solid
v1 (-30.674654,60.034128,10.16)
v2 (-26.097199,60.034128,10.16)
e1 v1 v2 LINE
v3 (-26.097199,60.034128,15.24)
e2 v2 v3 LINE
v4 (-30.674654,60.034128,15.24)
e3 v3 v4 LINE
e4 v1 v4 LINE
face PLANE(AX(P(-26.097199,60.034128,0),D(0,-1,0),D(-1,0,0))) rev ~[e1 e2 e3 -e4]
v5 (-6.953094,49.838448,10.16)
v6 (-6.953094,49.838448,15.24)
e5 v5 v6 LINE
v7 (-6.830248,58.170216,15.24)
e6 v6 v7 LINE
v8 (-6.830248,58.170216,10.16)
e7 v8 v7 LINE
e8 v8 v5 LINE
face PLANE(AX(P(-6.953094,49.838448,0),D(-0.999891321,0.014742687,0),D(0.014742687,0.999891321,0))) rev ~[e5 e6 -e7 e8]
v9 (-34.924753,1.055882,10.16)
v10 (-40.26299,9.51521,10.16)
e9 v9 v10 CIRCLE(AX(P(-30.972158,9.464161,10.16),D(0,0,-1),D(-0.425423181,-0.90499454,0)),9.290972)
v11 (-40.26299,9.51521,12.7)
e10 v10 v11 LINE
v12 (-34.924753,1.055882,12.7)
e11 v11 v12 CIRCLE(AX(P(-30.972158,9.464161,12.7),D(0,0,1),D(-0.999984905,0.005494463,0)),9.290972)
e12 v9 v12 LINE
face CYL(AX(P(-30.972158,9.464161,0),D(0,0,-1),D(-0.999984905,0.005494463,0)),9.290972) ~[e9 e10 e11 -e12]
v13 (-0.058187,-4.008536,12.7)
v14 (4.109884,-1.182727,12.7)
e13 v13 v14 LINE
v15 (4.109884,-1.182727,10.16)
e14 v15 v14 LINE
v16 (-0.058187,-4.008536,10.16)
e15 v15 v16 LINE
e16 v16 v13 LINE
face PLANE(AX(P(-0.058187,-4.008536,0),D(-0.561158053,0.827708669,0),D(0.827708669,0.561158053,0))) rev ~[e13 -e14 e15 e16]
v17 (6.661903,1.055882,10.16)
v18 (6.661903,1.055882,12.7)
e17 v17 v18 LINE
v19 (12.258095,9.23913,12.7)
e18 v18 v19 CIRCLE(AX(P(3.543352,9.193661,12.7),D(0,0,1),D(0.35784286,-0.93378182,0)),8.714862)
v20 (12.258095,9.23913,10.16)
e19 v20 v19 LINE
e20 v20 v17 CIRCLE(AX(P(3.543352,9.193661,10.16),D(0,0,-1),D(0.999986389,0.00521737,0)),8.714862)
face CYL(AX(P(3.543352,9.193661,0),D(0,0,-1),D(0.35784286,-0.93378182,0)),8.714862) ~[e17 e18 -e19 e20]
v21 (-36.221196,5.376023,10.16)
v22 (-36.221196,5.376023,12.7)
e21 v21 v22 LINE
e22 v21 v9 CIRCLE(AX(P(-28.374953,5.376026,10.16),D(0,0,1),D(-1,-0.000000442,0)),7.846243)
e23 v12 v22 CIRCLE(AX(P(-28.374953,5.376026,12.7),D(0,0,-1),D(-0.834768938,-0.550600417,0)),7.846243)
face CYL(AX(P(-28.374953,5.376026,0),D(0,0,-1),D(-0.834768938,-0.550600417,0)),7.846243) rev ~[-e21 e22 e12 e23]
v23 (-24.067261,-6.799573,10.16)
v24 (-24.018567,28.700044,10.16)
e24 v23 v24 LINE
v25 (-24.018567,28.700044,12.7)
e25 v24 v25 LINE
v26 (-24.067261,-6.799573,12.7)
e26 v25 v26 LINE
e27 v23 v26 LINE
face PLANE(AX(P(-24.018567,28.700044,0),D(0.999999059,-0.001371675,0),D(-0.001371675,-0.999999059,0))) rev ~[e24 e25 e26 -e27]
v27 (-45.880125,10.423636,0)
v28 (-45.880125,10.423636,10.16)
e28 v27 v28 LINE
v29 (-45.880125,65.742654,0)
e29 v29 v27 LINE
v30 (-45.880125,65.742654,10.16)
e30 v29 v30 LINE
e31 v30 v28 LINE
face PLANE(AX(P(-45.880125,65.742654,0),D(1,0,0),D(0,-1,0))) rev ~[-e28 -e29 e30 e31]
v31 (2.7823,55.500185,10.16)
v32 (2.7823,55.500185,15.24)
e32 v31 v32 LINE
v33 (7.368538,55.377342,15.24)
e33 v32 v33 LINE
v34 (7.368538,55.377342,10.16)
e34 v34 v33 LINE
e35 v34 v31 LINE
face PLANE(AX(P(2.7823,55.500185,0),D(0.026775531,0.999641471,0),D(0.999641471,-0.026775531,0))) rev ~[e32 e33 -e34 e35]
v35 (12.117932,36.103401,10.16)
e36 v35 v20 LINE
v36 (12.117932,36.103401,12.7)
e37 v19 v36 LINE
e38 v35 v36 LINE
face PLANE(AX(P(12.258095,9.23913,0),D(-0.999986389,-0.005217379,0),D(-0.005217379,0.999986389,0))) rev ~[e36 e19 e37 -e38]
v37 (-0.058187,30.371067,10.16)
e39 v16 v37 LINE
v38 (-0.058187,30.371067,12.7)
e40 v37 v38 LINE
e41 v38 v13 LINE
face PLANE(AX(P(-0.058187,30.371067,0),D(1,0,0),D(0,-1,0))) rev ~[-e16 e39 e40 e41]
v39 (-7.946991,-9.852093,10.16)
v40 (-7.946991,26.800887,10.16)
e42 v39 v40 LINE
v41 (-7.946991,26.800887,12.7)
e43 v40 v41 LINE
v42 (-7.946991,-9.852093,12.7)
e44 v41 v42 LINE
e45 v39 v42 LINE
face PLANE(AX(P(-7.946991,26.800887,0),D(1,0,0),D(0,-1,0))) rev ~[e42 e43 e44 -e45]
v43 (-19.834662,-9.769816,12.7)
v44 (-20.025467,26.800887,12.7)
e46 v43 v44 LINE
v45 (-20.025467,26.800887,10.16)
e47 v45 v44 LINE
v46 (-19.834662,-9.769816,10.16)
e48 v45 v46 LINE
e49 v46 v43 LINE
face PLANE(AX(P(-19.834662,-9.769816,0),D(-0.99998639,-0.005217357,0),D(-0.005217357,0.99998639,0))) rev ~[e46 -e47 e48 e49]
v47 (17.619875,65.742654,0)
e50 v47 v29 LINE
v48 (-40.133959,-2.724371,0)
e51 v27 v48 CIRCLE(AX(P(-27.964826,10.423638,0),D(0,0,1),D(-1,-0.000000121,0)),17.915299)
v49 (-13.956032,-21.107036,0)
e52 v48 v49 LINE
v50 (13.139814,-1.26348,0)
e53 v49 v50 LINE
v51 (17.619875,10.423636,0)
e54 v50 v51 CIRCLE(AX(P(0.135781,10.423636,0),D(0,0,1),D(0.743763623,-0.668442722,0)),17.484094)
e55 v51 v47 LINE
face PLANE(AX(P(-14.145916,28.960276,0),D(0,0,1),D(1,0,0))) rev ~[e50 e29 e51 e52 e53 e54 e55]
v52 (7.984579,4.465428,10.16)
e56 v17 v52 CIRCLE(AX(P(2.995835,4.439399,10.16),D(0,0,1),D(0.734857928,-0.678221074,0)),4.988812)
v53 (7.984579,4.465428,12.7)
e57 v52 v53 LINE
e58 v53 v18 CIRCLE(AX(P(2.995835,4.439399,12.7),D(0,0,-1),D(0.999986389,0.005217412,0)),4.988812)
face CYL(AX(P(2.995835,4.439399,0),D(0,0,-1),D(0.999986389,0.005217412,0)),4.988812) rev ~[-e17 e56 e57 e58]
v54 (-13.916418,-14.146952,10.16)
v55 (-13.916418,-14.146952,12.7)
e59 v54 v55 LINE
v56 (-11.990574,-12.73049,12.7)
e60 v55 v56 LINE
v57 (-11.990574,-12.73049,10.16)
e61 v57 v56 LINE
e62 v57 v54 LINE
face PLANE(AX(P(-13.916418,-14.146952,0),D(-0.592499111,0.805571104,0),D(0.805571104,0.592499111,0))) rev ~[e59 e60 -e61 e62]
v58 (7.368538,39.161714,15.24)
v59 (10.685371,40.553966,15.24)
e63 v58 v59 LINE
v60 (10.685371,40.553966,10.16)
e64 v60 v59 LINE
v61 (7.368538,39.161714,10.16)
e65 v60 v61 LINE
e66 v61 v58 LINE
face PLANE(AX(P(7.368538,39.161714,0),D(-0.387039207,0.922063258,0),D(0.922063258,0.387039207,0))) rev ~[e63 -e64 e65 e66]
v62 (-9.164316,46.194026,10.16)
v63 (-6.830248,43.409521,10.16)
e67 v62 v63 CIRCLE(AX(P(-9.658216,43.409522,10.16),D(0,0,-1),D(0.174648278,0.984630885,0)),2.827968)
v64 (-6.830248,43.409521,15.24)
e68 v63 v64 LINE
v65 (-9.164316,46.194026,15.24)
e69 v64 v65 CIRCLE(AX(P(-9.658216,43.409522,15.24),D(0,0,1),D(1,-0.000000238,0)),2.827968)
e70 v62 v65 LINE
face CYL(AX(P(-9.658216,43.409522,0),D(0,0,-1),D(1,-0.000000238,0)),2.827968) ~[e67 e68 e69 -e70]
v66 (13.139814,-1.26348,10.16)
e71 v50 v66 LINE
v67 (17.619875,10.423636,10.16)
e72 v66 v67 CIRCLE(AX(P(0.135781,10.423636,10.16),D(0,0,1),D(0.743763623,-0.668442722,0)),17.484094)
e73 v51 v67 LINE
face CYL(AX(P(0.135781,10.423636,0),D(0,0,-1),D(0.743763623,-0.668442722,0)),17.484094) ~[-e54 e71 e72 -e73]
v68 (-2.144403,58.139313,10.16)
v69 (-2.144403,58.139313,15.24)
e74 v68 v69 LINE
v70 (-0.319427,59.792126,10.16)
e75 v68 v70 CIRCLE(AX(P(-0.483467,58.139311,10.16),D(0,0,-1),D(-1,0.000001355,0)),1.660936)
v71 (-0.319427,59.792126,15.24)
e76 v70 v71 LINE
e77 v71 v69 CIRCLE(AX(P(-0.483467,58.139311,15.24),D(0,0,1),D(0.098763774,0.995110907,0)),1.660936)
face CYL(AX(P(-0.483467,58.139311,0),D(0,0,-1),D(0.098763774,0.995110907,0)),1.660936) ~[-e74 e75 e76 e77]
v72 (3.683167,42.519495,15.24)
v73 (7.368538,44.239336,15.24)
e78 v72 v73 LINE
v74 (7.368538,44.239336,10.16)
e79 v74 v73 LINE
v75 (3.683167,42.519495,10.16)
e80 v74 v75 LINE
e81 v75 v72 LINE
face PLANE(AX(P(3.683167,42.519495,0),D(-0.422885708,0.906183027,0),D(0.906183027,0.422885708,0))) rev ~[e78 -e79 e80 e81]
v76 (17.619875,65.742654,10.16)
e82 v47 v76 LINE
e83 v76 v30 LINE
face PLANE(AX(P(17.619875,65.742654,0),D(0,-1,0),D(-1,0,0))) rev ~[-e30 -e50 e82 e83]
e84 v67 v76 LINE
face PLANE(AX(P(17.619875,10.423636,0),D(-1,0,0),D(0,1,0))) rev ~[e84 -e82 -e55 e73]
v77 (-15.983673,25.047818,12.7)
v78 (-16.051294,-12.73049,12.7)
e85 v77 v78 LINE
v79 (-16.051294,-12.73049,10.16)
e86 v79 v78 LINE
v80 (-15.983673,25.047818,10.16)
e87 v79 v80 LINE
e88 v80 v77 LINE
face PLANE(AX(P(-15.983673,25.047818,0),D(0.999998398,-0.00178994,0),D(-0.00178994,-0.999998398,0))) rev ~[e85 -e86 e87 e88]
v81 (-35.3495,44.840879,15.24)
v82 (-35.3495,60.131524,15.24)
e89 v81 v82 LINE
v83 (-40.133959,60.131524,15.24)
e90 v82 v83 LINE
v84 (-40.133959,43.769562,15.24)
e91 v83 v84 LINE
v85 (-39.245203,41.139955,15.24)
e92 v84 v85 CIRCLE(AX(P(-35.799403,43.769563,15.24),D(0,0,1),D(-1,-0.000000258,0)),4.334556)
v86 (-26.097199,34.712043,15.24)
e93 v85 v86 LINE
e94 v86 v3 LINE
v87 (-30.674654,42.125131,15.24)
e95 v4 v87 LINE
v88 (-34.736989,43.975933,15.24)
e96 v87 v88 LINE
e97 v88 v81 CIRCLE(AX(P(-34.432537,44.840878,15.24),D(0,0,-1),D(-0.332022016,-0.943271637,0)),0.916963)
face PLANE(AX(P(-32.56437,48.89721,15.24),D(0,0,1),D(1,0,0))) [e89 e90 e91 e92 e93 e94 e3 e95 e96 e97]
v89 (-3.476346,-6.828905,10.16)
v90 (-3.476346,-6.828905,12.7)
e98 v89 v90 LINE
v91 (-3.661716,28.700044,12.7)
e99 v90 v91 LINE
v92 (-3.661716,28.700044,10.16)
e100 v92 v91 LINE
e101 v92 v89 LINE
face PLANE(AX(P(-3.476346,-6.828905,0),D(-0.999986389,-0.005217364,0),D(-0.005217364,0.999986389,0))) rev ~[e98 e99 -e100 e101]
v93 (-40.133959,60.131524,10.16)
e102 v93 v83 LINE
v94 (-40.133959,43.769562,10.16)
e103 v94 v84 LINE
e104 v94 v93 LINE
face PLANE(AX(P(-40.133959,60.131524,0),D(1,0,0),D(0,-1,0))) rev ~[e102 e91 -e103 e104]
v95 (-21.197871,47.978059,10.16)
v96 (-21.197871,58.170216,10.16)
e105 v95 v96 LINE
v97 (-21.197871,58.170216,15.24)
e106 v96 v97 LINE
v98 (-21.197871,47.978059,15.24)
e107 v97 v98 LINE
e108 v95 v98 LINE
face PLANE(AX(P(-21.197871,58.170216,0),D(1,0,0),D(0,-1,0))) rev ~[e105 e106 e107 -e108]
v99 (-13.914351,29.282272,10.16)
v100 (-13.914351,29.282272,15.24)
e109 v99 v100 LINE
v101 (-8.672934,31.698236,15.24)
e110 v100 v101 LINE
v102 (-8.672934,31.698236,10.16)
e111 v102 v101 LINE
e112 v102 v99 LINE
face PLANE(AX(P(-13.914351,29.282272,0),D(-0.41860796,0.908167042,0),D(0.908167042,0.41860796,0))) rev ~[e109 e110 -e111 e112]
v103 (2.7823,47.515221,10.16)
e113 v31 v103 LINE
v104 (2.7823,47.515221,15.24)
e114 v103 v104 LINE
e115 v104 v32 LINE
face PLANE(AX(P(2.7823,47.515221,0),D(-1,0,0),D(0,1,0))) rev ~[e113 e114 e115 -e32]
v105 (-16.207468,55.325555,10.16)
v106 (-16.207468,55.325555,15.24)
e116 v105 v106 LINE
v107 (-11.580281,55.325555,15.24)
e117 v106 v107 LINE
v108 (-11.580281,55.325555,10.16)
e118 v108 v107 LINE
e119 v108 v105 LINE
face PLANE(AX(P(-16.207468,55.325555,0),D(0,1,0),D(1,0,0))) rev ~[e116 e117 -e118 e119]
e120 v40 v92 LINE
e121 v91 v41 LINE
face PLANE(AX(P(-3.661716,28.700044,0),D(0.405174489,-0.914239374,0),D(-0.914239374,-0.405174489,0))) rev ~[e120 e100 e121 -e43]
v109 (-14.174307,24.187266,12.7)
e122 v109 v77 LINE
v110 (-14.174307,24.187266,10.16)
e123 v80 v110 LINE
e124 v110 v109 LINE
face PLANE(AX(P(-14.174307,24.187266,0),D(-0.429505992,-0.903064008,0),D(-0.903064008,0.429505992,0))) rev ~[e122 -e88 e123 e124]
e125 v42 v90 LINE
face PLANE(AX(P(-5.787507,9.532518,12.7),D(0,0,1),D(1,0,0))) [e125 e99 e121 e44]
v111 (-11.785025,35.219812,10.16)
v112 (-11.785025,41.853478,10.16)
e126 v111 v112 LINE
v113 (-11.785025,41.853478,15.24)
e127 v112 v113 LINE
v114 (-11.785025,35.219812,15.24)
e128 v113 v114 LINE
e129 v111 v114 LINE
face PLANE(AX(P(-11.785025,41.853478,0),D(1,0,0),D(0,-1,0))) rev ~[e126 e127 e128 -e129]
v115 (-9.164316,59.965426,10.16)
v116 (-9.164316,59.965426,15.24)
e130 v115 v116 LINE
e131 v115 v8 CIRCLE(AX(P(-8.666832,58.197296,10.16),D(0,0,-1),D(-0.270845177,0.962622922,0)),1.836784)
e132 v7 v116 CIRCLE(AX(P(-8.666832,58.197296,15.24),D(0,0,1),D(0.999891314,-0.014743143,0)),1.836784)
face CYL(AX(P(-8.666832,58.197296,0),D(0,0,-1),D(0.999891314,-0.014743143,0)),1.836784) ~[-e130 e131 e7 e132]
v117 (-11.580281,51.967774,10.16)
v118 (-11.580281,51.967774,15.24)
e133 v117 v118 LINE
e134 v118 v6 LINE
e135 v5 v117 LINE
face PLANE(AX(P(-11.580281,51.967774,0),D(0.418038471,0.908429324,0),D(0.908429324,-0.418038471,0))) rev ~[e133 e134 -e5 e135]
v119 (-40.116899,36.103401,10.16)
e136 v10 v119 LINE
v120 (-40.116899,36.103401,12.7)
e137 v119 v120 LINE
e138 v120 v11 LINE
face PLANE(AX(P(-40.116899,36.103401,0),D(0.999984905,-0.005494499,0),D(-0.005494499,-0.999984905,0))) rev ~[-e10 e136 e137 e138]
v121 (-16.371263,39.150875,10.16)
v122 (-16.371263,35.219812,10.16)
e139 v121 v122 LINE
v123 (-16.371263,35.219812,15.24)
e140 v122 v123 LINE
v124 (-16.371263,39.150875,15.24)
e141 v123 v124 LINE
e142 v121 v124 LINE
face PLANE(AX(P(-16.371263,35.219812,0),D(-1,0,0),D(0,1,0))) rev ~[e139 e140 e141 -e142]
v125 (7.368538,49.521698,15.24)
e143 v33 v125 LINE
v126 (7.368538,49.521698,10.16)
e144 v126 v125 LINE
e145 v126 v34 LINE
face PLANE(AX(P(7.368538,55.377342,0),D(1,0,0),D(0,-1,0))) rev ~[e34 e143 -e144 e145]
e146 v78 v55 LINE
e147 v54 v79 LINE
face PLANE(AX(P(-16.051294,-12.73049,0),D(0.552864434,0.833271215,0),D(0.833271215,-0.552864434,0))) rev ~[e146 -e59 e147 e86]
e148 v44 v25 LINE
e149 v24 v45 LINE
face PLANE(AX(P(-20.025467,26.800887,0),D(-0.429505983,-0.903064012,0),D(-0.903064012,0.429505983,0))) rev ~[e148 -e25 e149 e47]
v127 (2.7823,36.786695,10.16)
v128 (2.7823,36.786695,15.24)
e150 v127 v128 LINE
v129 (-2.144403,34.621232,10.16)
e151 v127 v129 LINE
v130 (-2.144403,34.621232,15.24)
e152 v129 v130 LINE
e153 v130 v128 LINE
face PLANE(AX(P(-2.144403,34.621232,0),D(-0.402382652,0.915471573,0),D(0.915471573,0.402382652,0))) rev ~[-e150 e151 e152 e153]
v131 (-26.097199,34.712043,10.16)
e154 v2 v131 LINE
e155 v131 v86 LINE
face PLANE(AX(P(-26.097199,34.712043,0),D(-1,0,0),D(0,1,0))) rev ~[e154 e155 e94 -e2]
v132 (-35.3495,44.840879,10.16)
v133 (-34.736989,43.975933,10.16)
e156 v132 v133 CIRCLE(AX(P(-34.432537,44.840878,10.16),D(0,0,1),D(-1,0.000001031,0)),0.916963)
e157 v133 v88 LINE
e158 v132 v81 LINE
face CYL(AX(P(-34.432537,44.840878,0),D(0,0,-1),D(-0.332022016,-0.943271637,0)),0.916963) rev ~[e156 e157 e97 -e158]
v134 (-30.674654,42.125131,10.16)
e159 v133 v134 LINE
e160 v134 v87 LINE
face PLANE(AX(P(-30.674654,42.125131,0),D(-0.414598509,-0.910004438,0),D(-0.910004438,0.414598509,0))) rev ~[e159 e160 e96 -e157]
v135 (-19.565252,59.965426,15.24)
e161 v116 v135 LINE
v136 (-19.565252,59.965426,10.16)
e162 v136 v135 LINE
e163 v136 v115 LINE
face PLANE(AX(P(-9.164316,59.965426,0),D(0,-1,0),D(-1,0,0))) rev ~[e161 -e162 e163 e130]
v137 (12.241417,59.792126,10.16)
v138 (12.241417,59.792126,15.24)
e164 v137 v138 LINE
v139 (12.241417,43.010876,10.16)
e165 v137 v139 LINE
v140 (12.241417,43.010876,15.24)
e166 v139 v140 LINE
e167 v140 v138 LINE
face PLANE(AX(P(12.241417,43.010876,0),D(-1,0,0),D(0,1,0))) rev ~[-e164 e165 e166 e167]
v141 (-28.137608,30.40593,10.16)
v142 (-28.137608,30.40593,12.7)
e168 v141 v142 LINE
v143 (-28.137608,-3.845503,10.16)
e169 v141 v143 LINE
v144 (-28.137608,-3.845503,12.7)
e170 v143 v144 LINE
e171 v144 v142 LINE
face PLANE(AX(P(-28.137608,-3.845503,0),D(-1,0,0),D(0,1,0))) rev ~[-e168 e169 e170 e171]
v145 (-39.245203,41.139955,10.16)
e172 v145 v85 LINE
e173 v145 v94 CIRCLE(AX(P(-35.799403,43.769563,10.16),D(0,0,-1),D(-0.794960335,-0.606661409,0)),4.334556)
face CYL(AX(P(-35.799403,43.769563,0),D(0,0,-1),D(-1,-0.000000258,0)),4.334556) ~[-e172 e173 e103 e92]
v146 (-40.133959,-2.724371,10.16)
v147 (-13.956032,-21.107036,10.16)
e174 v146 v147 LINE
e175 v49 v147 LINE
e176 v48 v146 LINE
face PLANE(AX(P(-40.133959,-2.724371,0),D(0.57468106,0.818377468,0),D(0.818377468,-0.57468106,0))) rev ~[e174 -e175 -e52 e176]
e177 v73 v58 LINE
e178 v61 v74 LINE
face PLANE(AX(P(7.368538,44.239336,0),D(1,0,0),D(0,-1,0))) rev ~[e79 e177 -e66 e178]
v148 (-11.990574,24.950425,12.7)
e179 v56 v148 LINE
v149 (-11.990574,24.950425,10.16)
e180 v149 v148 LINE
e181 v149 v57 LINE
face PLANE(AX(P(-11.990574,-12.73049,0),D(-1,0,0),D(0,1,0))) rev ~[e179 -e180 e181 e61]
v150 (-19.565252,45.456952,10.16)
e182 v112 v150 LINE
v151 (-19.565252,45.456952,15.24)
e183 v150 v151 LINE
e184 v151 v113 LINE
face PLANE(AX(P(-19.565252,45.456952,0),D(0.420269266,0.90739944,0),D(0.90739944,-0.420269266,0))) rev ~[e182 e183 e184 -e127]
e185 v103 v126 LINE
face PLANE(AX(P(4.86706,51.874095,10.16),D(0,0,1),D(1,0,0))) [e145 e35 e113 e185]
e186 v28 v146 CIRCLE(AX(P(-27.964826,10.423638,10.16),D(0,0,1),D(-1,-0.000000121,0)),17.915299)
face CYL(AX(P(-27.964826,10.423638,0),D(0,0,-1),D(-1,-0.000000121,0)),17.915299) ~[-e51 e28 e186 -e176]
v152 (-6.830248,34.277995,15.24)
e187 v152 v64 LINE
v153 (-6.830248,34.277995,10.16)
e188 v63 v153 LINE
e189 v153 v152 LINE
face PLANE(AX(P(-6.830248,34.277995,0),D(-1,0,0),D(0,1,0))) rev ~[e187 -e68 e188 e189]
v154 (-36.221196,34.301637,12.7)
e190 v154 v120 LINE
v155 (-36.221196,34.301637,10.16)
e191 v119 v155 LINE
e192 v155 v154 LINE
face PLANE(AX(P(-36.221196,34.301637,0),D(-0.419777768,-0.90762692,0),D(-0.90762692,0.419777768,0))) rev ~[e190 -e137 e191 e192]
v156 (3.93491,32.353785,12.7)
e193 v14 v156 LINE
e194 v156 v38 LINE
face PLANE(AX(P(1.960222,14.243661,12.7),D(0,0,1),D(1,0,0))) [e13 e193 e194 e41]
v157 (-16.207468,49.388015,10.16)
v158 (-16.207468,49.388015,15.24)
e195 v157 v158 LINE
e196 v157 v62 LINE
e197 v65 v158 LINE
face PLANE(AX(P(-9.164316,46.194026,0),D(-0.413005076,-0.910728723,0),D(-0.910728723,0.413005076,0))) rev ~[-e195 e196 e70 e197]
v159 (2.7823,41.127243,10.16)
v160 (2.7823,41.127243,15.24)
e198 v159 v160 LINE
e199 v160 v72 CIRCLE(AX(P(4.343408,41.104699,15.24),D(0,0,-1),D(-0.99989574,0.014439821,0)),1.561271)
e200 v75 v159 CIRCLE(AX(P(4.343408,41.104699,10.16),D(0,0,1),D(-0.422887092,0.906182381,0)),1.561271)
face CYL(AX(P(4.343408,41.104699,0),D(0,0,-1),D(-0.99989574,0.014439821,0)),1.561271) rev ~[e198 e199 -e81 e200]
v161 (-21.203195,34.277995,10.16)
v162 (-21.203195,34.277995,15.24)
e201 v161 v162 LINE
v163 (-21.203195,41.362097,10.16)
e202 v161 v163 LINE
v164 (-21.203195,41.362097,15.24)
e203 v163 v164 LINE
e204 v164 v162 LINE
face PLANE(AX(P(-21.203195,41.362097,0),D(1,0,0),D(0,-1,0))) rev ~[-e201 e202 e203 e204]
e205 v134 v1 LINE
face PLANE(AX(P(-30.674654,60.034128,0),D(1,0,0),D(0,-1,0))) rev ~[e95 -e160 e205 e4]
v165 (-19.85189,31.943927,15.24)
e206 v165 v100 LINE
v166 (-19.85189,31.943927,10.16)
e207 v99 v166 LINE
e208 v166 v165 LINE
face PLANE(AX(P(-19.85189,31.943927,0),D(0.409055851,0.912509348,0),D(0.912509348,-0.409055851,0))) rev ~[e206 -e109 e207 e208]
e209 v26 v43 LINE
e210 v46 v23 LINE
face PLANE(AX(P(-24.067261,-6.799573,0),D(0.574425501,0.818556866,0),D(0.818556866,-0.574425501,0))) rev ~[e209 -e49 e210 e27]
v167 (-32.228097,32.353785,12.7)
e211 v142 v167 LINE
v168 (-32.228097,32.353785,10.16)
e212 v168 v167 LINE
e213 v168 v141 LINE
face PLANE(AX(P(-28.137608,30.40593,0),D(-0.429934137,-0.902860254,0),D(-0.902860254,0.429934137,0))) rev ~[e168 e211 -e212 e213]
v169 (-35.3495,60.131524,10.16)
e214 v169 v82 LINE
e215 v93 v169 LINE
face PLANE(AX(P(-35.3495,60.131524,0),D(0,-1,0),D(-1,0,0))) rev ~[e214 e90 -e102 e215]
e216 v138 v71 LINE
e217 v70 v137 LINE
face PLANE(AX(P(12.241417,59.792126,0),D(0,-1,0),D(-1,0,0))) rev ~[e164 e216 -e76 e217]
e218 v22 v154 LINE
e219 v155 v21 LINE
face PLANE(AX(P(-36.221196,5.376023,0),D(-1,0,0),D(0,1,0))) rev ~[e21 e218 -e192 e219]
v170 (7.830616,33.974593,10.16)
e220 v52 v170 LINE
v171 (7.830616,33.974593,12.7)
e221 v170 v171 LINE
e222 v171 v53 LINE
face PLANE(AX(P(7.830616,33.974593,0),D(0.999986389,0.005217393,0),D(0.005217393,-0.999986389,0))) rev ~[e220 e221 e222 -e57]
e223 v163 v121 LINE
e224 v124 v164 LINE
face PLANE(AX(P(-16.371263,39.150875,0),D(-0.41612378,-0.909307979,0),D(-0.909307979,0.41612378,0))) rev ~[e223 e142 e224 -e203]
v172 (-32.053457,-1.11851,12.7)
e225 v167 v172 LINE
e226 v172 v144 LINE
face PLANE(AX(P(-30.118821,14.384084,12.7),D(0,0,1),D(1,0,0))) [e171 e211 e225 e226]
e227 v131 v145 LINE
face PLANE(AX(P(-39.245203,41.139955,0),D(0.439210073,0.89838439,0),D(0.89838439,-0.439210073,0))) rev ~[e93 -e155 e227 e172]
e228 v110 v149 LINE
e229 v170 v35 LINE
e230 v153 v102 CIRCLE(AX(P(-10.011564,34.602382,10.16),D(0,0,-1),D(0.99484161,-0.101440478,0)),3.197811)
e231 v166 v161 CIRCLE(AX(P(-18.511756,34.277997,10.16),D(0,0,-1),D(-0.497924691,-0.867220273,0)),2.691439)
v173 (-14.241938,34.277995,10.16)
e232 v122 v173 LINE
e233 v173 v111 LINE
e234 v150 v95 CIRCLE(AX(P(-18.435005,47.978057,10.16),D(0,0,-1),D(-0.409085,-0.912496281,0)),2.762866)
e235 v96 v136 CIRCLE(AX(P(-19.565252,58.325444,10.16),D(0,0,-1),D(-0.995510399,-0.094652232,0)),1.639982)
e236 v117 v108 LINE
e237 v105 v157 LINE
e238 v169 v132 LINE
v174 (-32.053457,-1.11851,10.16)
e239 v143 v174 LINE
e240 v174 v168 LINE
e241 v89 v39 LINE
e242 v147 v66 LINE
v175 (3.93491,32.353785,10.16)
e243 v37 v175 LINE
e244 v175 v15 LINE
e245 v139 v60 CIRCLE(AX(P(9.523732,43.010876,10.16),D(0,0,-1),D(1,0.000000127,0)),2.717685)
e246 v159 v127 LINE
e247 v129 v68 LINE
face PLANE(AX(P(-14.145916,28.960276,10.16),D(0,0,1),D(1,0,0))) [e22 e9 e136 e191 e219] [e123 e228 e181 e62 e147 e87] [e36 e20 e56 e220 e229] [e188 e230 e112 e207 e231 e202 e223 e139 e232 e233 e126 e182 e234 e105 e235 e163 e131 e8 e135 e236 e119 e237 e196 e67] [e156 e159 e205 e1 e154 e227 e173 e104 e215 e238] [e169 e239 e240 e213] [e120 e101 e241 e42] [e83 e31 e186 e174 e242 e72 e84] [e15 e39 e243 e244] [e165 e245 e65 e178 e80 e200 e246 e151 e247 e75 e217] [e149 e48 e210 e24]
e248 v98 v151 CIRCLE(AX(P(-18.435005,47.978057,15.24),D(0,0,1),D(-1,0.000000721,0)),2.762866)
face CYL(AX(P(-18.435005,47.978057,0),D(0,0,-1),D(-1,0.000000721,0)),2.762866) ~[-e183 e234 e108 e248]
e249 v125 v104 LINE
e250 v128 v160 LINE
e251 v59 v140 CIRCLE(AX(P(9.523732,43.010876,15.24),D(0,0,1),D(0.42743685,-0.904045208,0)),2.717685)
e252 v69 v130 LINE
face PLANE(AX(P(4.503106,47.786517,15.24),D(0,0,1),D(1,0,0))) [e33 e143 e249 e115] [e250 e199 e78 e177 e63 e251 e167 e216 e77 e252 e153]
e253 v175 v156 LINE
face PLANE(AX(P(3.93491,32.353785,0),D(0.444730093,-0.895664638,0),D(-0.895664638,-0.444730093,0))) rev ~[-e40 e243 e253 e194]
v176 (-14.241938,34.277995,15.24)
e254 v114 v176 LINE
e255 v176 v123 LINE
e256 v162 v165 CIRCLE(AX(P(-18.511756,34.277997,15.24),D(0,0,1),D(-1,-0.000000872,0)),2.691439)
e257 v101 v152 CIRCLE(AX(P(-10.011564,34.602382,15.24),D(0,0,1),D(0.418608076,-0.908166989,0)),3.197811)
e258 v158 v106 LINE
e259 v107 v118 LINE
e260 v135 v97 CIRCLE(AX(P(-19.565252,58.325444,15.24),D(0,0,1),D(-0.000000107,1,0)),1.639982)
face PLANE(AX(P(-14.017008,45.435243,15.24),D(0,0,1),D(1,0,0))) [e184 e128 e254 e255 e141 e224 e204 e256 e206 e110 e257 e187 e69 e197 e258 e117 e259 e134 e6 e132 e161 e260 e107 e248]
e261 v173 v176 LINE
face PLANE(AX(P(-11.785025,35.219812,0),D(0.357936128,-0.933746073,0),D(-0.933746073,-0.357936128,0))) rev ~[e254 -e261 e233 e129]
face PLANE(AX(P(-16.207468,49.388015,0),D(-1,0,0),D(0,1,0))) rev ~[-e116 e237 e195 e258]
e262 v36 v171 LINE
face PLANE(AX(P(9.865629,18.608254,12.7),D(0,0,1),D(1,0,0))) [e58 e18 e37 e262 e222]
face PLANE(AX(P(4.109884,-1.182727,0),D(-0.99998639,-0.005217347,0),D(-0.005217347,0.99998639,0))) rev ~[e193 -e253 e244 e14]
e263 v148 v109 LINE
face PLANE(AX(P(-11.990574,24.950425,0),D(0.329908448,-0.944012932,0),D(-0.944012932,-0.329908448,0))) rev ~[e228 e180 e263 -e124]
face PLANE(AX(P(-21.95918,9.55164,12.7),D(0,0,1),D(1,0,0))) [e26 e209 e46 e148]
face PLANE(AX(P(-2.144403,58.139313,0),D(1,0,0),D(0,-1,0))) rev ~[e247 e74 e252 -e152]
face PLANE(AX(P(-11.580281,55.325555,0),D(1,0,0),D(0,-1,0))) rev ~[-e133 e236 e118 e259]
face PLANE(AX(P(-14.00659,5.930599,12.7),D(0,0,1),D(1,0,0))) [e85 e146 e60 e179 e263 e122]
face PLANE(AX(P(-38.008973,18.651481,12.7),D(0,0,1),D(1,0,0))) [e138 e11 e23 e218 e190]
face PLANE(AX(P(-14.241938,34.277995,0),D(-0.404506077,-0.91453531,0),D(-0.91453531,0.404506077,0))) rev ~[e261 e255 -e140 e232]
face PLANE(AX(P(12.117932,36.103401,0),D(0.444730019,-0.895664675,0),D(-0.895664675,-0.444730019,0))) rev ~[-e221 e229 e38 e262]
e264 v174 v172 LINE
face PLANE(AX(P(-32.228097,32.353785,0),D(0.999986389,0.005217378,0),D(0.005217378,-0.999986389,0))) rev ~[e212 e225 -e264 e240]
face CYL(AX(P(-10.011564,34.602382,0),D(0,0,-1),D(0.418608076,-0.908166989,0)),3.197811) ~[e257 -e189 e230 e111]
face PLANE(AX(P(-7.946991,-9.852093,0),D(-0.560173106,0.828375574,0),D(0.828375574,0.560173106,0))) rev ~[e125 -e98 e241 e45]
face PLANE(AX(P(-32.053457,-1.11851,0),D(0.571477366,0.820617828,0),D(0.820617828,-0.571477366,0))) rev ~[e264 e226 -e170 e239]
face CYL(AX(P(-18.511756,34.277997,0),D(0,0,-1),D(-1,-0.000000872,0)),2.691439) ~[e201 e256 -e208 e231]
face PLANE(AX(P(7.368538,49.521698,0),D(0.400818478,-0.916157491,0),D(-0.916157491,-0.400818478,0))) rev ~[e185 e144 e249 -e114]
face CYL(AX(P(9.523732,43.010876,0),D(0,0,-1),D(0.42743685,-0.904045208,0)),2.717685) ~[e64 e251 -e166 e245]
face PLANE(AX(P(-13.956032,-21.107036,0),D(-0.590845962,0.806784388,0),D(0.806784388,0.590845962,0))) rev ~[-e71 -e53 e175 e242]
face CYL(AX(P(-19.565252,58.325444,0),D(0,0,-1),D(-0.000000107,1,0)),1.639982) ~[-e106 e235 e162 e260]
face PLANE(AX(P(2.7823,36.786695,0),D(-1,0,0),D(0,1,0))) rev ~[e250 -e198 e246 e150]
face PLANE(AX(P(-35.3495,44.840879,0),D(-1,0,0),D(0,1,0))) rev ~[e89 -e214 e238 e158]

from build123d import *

# Parameters (mm, degrees)
F1_DEPTH = 15.24
F2_DEPTH = 12.7
F3_DEPTH = 10.16


with BuildPart() as f1:
    # F0 (on Top) → F1 (new body)
    with BuildSketch(Plane.XY):
        with BuildLine():
            Line((-35.3495, 60.131524), (-40.133959, 60.131524))
            Line((-40.133959, 60.131524), (-40.133959, 43.769562))
            ThreePointArc((-40.133959, 43.769562), (-39.905763, 42.381693), (-39.245203, 41.139955))
            Line((-39.245203, 41.139955), (-26.097199, 34.712043))
            Line((-26.097199, 34.712043), (-26.097199, 60.034128))
            Line((-26.097199, 60.034128), (-30.674654, 60.034128))
            Line((-30.674654, 60.034128), (-30.674654, 42.308667))
            Line((-30.674654, 42.308667), (-30.674654, 42.125131))
            Line((-30.674654, 42.125131), (-34.736989, 43.975933))
            ThreePointArc((-34.736989, 43.975933), (-35.180866, 44.310949), (-35.3495, 44.840879))
            Line((-35.3495, 44.840879), (-35.3495, 60.131524))
        make_face()
        with BuildLine():
            Line((-11.580281, 51.967774), (-6.953094, 49.838448))
            Line((-6.953094, 49.838448), (-6.830248, 58.170216))
            ThreePointArc((-6.830248, 58.170216), (-7.547014, 59.653243), (-9.164316, 59.965426))
            Line((-9.164316, 59.965426), (-19.565252, 59.965426))
            ThreePointArc((-19.565252, 59.965426), (-20.778535, 59.428841), (-21.197871, 58.170216))
            Line((-21.197871, 58.170216), (-21.197871, 47.978059))
            ThreePointArc((-21.197871, 47.978059), (-20.754073, 46.476274), (-19.565252, 45.456952))
            Line((-19.565252, 45.456952), (-11.785025, 41.853478))
            Line((-11.785025, 41.853478), (-11.785025, 35.219812))
            Line((-11.785025, 35.219812), (-14.241938, 34.277995))
            Line((-14.241938, 34.277995), (-16.371263, 35.219812))
            Line((-16.371263, 35.219812), (-16.371263, 39.150875))
            Line((-16.371263, 39.150875), (-21.203195, 41.362097))
            Line((-21.203195, 41.362097), (-21.203195, 34.277995))
            ThreePointArc((-21.203195, 34.277995), (-20.840997, 32.929487), (-19.85189, 31.943927))
            Line((-19.85189, 31.943927), (-13.914351, 29.282272))
            Line((-13.914351, 29.282272), (-8.672934, 31.698236))
            ThreePointArc((-8.672934, 31.698236), (-7.409398, 32.743692), (-6.830248, 34.277995))
            Line((-6.830248, 34.277995), (-6.830248, 43.409521))
            ThreePointArc((-6.830248, 43.409521), (-7.490944, 45.226204), (-9.164316, 46.194026))
            Line((-9.164316, 46.194026), (-16.207468, 49.388015))
            Line((-16.207468, 49.388015), (-16.207468, 55.325555))
            Line((-16.207468, 55.325555), (-11.580281, 55.325555))
            Line((-11.580281, 55.325555), (-11.580281, 51.967774))
        make_face()
        with BuildLine():
            Line((-2.144403, 34.621232), (2.7823, 36.786695))
            Line((2.7823, 36.786695), (2.7823, 41.127243))
            ThreePointArc((2.7823, 41.127243), (3.032611, 41.95286), (3.683167, 42.519495))
            Line((3.683167, 42.519495), (7.368538, 44.239336))
            Line((7.368538, 44.239336), (7.368538, 39.161714))
            Line((7.368538, 39.161714), (10.685371, 40.553966))
            ThreePointArc((10.685371, 40.553966), (11.819683, 41.556771), (12.241417, 43.010876))
            Line((12.241417, 43.010876), (12.241417, 59.792126))
            Line((12.241417, 59.792126), (-0.319427, 59.792126))
            ThreePointArc((-0.319427, 59.792126), (-1.598421, 59.370402), (-2.144403, 58.139313))
            Line((-2.144403, 58.139313), (-2.144403, 34.621232))
        make_face()
        Polygon((2.7823, 47.515221), (2.7823, 55.500185), (7.368538, 55.377342), (7.368538, 49.521698), align=None, mode=Mode.SUBTRACT)
    extrude(amount=F1_DEPTH)


with BuildPart() as f2:
    # F0 (on Top) → F2 (new body)
    with BuildSketch(Plane.XY):
        with BuildLine():
            Line((-36.221196, 34.301637), (-40.116899, 36.103401))
            Line((-40.116899, 36.103401), (-40.26299, 9.51521))
            ThreePointArc((-40.26299, 9.51521), (-38.829457, 4.505833), (-34.924753, 1.055882))
            ThreePointArc((-34.924753, 1.055882), (-35.890099, 3.120786), (-36.221196, 5.376023))
            Line((-36.221196, 5.376023), (-36.221196, 34.301637))
        make_face()
        Polygon((-28.137608, 30.40593), (-32.228097, 32.353785), (-32.053457, -1.11851), (-28.137608, -3.845503), align=None)
        Polygon((-20.025467, 26.800887), (-24.018567, 28.700044), (-24.067261, -6.799573), (-19.834662, -9.769816), align=None)
        Polygon((-14.174307, 24.187266), (-15.983673, 25.047818), (-16.051294, -12.73049), (-13.916418, -14.146952), (-11.990574, -12.73049), (-11.990574, 24.950425), align=None)
        Polygon((-3.661716, 28.700044), (-7.946991, 26.800887), (-7.946991, -9.852093), (-3.476346, -6.828905), align=None)
        Polygon((3.93491, 32.353785), (-0.058187, 30.371067), (-0.058187, -4.008536), (4.109884, -1.182727), align=None)
        with BuildLine():
            Line((12.117932, 36.103401), (7.830616, 33.974593))
            Line((7.830616, 33.974593), (7.984579, 4.465428))
            ThreePointArc((7.984579, 4.465428), (7.646931, 2.635085), (6.661903, 1.055882))
            ThreePointArc((6.661903, 1.055882), (10.736967, 4.274239), (12.258095, 9.23913))
            Line((12.258095, 9.23913), (12.117932, 36.103401))
        make_face()
    extrude(amount=F2_DEPTH)


with BuildPart() as f3:
    # F0 (on Top) → F3 (new body)
    with BuildSketch(Plane.XY):
        with BuildLine():
            Line((17.619875, 65.742654), (-45.880125, 65.742654))
            Line((-45.880125, 65.742654), (-45.880125, 10.423636))
            ThreePointArc((-45.880125, 10.423636), (-44.380848, 3.249228), (-40.133959, -2.724371))
            Line((-40.133959, -2.724371), (-13.956032, -21.107036))
            Line((-13.956032, -21.107036), (13.139814, -1.26348))
            ThreePointArc((13.139814, -1.26348), (16.461486, 4.165449), (17.619875, 10.423636))
            Line((17.619875, 10.423636), (17.619875, 65.742654))
        make_face()
        Polygon((-32.053457, -1.11851), (-32.228097, 32.353785), (-28.137608, 30.40593), (-28.137608, -3.845503), align=None, mode=Mode.SUBTRACT)
        with BuildLine():
            Line((-40.26299, 9.51521), (-40.116899, 36.103401))
            Line((-40.116899, 36.103401), (-36.221196, 34.301637))
            Line((-36.221196, 34.301637), (-36.221196, 5.376023))
            ThreePointArc((-36.221196, 5.376023), (-35.890099, 3.120786), (-34.924753, 1.055882))
            ThreePointArc((-34.924753, 1.055882), (-38.829457, 4.505833), (-40.26299, 9.51521))
        make_face(mode=Mode.SUBTRACT)
        Polygon((-24.067261, -6.799573), (-24.018567, 28.700044), (-20.025467, 26.800887), (-19.834662, -9.769816), align=None, mode=Mode.SUBTRACT)
        Polygon((-16.051294, -12.73049), (-15.983673, 25.047818), (-14.174307, 24.187266), (-11.990574, 24.950425), (-11.990574, -12.73049), (-13.916418, -14.146952), align=None, mode=Mode.SUBTRACT)
        Polygon((-7.946991, -9.852093), (-7.946991, 26.800887), (-3.661716, 28.700044), (-3.476346, -6.828905), align=None, mode=Mode.SUBTRACT)
        Polygon((-0.058187, -4.008536), (-0.058187, 30.371067), (3.93491, 32.353785), (4.109884, -1.182727), align=None, mode=Mode.SUBTRACT)
        with BuildLine():
            Line((7.984579, 4.465428), (7.830616, 33.974593))
            Line((7.830616, 33.974593), (12.117932, 36.103401))
            Line((12.117932, 36.103401), (12.258095, 9.23913))
            ThreePointArc((12.258095, 9.23913), (10.736967, 4.274239), (6.661903, 1.055882))
            ThreePointArc((6.661903, 1.055882), (7.646931, 2.635085), (7.984579, 4.465428))
        make_face(mode=Mode.SUBTRACT)
        with BuildLine():
            Line((-40.133959, 43.769562), (-40.133959, 60.131524))
            Line((-40.133959, 60.131524), (-35.3495, 60.131524))
            Line((-35.3495, 60.131524), (-35.3495, 44.840879))
            ThreePointArc((-35.3495, 44.840879), (-35.180866, 44.310949), (-34.736989, 43.975933))
            Line((-34.736989, 43.975933), (-30.674654, 42.125131))
            Line((-30.674654, 42.125131), (-30.674654, 42.308667))
            Line((-30.674654, 42.308667), (-30.674654, 60.034128))
            Line((-30.674654, 60.034128), (-26.097199, 60.034128))
            Line((-26.097199, 60.034128), (-26.097199, 34.712043))
            Line((-26.097199, 34.712043), (-39.245203, 41.139955))
            ThreePointArc((-39.245203, 41.139955), (-39.905763, 42.381693), (-40.133959, 43.769562))
        make_face(mode=Mode.SUBTRACT)
        with BuildLine():
            Line((-6.830248, 58.170216), (-6.953094, 49.838448))
            Line((-6.953094, 49.838448), (-11.580281, 51.967774))
            Line((-11.580281, 51.967774), (-11.580281, 55.325555))
            Line((-11.580281, 55.325555), (-16.207468, 55.325555))
            Line((-16.207468, 55.325555), (-16.207468, 49.388015))
            Line((-16.207468, 49.388015), (-9.164316, 46.194026))
            ThreePointArc((-9.164316, 46.194026), (-7.490944, 45.226204), (-6.830248, 43.409521))
            Line((-6.830248, 43.409521), (-6.830248, 34.277995))
            ThreePointArc((-6.830248, 34.277995), (-7.409398, 32.743692), (-8.672934, 31.698236))
            Line((-8.672934, 31.698236), (-13.914351, 29.282272))
            Line((-13.914351, 29.282272), (-19.85189, 31.943927))
            ThreePointArc((-19.85189, 31.943927), (-20.840997, 32.929487), (-21.203195, 34.277995))
            Line((-21.203195, 34.277995), (-21.203195, 41.362097))
            Line((-21.203195, 41.362097), (-16.371263, 39.150875))
            Line((-16.371263, 39.150875), (-16.371263, 35.219812))
            Line((-16.371263, 35.219812), (-14.241938, 34.277995))
            Line((-14.241938, 34.277995), (-11.785025, 35.219812))
            Line((-11.785025, 35.219812), (-11.785025, 41.853478))
            Line((-11.785025, 41.853478), (-19.565252, 45.456952))
            ThreePointArc((-19.565252, 45.456952), (-20.754073, 46.476274), (-21.197871, 47.978059))
            Line((-21.197871, 47.978059), (-21.197871, 58.170216))
            ThreePointArc((-21.197871, 58.170216), (-20.778535, 59.428841), (-19.565252, 59.965426))
            Line((-19.565252, 59.965426), (-9.164316, 59.965426))
            ThreePointArc((-9.164316, 59.965426), (-7.547014, 59.653243), (-6.830248, 58.170216))
        make_face(mode=Mode.SUBTRACT)
        with BuildLine():
            Line((2.7823, 41.127243), (2.7823, 36.786695))
            Line((2.7823, 36.786695), (-2.144403, 34.621232))
            Line((-2.144403, 34.621232), (-2.144403, 58.139313))
            ThreePointArc((-2.144403, 58.139313), (-1.598421, 59.370402), (-0.319427, 59.792126))
            Line((-0.319427, 59.792126), (12.241417, 59.792126))
            Line((12.241417, 59.792126), (12.241417, 43.010876))
            ThreePointArc((12.241417, 43.010876), (11.819683, 41.556771), (10.685371, 40.553966))
            Line((10.685371, 40.553966), (7.368538, 39.161714))
            Line((7.368538, 39.161714), (7.368538, 44.239336))
            Line((7.368538, 44.239336), (3.683167, 42.519495))
            ThreePointArc((3.683167, 42.519495), (3.032611, 41.95286), (2.7823, 41.127243))
        make_face(mode=Mode.SUBTRACT)
        Polygon((7.368538, 55.377342), (2.7823, 55.500185), (2.7823, 47.515221), (7.368538, 49.521698), align=None)
    extrude(amount=F3_DEPTH)


with BuildPart() as f2_1:
    add(f2.part)

    # F4: union F3
    add(f3.part)

    # F5: union 


with BuildPart() as f1_1:
    add(f1.part)

    # F6: union F2
    add(f2_1.part)


solid = f1_1.part
